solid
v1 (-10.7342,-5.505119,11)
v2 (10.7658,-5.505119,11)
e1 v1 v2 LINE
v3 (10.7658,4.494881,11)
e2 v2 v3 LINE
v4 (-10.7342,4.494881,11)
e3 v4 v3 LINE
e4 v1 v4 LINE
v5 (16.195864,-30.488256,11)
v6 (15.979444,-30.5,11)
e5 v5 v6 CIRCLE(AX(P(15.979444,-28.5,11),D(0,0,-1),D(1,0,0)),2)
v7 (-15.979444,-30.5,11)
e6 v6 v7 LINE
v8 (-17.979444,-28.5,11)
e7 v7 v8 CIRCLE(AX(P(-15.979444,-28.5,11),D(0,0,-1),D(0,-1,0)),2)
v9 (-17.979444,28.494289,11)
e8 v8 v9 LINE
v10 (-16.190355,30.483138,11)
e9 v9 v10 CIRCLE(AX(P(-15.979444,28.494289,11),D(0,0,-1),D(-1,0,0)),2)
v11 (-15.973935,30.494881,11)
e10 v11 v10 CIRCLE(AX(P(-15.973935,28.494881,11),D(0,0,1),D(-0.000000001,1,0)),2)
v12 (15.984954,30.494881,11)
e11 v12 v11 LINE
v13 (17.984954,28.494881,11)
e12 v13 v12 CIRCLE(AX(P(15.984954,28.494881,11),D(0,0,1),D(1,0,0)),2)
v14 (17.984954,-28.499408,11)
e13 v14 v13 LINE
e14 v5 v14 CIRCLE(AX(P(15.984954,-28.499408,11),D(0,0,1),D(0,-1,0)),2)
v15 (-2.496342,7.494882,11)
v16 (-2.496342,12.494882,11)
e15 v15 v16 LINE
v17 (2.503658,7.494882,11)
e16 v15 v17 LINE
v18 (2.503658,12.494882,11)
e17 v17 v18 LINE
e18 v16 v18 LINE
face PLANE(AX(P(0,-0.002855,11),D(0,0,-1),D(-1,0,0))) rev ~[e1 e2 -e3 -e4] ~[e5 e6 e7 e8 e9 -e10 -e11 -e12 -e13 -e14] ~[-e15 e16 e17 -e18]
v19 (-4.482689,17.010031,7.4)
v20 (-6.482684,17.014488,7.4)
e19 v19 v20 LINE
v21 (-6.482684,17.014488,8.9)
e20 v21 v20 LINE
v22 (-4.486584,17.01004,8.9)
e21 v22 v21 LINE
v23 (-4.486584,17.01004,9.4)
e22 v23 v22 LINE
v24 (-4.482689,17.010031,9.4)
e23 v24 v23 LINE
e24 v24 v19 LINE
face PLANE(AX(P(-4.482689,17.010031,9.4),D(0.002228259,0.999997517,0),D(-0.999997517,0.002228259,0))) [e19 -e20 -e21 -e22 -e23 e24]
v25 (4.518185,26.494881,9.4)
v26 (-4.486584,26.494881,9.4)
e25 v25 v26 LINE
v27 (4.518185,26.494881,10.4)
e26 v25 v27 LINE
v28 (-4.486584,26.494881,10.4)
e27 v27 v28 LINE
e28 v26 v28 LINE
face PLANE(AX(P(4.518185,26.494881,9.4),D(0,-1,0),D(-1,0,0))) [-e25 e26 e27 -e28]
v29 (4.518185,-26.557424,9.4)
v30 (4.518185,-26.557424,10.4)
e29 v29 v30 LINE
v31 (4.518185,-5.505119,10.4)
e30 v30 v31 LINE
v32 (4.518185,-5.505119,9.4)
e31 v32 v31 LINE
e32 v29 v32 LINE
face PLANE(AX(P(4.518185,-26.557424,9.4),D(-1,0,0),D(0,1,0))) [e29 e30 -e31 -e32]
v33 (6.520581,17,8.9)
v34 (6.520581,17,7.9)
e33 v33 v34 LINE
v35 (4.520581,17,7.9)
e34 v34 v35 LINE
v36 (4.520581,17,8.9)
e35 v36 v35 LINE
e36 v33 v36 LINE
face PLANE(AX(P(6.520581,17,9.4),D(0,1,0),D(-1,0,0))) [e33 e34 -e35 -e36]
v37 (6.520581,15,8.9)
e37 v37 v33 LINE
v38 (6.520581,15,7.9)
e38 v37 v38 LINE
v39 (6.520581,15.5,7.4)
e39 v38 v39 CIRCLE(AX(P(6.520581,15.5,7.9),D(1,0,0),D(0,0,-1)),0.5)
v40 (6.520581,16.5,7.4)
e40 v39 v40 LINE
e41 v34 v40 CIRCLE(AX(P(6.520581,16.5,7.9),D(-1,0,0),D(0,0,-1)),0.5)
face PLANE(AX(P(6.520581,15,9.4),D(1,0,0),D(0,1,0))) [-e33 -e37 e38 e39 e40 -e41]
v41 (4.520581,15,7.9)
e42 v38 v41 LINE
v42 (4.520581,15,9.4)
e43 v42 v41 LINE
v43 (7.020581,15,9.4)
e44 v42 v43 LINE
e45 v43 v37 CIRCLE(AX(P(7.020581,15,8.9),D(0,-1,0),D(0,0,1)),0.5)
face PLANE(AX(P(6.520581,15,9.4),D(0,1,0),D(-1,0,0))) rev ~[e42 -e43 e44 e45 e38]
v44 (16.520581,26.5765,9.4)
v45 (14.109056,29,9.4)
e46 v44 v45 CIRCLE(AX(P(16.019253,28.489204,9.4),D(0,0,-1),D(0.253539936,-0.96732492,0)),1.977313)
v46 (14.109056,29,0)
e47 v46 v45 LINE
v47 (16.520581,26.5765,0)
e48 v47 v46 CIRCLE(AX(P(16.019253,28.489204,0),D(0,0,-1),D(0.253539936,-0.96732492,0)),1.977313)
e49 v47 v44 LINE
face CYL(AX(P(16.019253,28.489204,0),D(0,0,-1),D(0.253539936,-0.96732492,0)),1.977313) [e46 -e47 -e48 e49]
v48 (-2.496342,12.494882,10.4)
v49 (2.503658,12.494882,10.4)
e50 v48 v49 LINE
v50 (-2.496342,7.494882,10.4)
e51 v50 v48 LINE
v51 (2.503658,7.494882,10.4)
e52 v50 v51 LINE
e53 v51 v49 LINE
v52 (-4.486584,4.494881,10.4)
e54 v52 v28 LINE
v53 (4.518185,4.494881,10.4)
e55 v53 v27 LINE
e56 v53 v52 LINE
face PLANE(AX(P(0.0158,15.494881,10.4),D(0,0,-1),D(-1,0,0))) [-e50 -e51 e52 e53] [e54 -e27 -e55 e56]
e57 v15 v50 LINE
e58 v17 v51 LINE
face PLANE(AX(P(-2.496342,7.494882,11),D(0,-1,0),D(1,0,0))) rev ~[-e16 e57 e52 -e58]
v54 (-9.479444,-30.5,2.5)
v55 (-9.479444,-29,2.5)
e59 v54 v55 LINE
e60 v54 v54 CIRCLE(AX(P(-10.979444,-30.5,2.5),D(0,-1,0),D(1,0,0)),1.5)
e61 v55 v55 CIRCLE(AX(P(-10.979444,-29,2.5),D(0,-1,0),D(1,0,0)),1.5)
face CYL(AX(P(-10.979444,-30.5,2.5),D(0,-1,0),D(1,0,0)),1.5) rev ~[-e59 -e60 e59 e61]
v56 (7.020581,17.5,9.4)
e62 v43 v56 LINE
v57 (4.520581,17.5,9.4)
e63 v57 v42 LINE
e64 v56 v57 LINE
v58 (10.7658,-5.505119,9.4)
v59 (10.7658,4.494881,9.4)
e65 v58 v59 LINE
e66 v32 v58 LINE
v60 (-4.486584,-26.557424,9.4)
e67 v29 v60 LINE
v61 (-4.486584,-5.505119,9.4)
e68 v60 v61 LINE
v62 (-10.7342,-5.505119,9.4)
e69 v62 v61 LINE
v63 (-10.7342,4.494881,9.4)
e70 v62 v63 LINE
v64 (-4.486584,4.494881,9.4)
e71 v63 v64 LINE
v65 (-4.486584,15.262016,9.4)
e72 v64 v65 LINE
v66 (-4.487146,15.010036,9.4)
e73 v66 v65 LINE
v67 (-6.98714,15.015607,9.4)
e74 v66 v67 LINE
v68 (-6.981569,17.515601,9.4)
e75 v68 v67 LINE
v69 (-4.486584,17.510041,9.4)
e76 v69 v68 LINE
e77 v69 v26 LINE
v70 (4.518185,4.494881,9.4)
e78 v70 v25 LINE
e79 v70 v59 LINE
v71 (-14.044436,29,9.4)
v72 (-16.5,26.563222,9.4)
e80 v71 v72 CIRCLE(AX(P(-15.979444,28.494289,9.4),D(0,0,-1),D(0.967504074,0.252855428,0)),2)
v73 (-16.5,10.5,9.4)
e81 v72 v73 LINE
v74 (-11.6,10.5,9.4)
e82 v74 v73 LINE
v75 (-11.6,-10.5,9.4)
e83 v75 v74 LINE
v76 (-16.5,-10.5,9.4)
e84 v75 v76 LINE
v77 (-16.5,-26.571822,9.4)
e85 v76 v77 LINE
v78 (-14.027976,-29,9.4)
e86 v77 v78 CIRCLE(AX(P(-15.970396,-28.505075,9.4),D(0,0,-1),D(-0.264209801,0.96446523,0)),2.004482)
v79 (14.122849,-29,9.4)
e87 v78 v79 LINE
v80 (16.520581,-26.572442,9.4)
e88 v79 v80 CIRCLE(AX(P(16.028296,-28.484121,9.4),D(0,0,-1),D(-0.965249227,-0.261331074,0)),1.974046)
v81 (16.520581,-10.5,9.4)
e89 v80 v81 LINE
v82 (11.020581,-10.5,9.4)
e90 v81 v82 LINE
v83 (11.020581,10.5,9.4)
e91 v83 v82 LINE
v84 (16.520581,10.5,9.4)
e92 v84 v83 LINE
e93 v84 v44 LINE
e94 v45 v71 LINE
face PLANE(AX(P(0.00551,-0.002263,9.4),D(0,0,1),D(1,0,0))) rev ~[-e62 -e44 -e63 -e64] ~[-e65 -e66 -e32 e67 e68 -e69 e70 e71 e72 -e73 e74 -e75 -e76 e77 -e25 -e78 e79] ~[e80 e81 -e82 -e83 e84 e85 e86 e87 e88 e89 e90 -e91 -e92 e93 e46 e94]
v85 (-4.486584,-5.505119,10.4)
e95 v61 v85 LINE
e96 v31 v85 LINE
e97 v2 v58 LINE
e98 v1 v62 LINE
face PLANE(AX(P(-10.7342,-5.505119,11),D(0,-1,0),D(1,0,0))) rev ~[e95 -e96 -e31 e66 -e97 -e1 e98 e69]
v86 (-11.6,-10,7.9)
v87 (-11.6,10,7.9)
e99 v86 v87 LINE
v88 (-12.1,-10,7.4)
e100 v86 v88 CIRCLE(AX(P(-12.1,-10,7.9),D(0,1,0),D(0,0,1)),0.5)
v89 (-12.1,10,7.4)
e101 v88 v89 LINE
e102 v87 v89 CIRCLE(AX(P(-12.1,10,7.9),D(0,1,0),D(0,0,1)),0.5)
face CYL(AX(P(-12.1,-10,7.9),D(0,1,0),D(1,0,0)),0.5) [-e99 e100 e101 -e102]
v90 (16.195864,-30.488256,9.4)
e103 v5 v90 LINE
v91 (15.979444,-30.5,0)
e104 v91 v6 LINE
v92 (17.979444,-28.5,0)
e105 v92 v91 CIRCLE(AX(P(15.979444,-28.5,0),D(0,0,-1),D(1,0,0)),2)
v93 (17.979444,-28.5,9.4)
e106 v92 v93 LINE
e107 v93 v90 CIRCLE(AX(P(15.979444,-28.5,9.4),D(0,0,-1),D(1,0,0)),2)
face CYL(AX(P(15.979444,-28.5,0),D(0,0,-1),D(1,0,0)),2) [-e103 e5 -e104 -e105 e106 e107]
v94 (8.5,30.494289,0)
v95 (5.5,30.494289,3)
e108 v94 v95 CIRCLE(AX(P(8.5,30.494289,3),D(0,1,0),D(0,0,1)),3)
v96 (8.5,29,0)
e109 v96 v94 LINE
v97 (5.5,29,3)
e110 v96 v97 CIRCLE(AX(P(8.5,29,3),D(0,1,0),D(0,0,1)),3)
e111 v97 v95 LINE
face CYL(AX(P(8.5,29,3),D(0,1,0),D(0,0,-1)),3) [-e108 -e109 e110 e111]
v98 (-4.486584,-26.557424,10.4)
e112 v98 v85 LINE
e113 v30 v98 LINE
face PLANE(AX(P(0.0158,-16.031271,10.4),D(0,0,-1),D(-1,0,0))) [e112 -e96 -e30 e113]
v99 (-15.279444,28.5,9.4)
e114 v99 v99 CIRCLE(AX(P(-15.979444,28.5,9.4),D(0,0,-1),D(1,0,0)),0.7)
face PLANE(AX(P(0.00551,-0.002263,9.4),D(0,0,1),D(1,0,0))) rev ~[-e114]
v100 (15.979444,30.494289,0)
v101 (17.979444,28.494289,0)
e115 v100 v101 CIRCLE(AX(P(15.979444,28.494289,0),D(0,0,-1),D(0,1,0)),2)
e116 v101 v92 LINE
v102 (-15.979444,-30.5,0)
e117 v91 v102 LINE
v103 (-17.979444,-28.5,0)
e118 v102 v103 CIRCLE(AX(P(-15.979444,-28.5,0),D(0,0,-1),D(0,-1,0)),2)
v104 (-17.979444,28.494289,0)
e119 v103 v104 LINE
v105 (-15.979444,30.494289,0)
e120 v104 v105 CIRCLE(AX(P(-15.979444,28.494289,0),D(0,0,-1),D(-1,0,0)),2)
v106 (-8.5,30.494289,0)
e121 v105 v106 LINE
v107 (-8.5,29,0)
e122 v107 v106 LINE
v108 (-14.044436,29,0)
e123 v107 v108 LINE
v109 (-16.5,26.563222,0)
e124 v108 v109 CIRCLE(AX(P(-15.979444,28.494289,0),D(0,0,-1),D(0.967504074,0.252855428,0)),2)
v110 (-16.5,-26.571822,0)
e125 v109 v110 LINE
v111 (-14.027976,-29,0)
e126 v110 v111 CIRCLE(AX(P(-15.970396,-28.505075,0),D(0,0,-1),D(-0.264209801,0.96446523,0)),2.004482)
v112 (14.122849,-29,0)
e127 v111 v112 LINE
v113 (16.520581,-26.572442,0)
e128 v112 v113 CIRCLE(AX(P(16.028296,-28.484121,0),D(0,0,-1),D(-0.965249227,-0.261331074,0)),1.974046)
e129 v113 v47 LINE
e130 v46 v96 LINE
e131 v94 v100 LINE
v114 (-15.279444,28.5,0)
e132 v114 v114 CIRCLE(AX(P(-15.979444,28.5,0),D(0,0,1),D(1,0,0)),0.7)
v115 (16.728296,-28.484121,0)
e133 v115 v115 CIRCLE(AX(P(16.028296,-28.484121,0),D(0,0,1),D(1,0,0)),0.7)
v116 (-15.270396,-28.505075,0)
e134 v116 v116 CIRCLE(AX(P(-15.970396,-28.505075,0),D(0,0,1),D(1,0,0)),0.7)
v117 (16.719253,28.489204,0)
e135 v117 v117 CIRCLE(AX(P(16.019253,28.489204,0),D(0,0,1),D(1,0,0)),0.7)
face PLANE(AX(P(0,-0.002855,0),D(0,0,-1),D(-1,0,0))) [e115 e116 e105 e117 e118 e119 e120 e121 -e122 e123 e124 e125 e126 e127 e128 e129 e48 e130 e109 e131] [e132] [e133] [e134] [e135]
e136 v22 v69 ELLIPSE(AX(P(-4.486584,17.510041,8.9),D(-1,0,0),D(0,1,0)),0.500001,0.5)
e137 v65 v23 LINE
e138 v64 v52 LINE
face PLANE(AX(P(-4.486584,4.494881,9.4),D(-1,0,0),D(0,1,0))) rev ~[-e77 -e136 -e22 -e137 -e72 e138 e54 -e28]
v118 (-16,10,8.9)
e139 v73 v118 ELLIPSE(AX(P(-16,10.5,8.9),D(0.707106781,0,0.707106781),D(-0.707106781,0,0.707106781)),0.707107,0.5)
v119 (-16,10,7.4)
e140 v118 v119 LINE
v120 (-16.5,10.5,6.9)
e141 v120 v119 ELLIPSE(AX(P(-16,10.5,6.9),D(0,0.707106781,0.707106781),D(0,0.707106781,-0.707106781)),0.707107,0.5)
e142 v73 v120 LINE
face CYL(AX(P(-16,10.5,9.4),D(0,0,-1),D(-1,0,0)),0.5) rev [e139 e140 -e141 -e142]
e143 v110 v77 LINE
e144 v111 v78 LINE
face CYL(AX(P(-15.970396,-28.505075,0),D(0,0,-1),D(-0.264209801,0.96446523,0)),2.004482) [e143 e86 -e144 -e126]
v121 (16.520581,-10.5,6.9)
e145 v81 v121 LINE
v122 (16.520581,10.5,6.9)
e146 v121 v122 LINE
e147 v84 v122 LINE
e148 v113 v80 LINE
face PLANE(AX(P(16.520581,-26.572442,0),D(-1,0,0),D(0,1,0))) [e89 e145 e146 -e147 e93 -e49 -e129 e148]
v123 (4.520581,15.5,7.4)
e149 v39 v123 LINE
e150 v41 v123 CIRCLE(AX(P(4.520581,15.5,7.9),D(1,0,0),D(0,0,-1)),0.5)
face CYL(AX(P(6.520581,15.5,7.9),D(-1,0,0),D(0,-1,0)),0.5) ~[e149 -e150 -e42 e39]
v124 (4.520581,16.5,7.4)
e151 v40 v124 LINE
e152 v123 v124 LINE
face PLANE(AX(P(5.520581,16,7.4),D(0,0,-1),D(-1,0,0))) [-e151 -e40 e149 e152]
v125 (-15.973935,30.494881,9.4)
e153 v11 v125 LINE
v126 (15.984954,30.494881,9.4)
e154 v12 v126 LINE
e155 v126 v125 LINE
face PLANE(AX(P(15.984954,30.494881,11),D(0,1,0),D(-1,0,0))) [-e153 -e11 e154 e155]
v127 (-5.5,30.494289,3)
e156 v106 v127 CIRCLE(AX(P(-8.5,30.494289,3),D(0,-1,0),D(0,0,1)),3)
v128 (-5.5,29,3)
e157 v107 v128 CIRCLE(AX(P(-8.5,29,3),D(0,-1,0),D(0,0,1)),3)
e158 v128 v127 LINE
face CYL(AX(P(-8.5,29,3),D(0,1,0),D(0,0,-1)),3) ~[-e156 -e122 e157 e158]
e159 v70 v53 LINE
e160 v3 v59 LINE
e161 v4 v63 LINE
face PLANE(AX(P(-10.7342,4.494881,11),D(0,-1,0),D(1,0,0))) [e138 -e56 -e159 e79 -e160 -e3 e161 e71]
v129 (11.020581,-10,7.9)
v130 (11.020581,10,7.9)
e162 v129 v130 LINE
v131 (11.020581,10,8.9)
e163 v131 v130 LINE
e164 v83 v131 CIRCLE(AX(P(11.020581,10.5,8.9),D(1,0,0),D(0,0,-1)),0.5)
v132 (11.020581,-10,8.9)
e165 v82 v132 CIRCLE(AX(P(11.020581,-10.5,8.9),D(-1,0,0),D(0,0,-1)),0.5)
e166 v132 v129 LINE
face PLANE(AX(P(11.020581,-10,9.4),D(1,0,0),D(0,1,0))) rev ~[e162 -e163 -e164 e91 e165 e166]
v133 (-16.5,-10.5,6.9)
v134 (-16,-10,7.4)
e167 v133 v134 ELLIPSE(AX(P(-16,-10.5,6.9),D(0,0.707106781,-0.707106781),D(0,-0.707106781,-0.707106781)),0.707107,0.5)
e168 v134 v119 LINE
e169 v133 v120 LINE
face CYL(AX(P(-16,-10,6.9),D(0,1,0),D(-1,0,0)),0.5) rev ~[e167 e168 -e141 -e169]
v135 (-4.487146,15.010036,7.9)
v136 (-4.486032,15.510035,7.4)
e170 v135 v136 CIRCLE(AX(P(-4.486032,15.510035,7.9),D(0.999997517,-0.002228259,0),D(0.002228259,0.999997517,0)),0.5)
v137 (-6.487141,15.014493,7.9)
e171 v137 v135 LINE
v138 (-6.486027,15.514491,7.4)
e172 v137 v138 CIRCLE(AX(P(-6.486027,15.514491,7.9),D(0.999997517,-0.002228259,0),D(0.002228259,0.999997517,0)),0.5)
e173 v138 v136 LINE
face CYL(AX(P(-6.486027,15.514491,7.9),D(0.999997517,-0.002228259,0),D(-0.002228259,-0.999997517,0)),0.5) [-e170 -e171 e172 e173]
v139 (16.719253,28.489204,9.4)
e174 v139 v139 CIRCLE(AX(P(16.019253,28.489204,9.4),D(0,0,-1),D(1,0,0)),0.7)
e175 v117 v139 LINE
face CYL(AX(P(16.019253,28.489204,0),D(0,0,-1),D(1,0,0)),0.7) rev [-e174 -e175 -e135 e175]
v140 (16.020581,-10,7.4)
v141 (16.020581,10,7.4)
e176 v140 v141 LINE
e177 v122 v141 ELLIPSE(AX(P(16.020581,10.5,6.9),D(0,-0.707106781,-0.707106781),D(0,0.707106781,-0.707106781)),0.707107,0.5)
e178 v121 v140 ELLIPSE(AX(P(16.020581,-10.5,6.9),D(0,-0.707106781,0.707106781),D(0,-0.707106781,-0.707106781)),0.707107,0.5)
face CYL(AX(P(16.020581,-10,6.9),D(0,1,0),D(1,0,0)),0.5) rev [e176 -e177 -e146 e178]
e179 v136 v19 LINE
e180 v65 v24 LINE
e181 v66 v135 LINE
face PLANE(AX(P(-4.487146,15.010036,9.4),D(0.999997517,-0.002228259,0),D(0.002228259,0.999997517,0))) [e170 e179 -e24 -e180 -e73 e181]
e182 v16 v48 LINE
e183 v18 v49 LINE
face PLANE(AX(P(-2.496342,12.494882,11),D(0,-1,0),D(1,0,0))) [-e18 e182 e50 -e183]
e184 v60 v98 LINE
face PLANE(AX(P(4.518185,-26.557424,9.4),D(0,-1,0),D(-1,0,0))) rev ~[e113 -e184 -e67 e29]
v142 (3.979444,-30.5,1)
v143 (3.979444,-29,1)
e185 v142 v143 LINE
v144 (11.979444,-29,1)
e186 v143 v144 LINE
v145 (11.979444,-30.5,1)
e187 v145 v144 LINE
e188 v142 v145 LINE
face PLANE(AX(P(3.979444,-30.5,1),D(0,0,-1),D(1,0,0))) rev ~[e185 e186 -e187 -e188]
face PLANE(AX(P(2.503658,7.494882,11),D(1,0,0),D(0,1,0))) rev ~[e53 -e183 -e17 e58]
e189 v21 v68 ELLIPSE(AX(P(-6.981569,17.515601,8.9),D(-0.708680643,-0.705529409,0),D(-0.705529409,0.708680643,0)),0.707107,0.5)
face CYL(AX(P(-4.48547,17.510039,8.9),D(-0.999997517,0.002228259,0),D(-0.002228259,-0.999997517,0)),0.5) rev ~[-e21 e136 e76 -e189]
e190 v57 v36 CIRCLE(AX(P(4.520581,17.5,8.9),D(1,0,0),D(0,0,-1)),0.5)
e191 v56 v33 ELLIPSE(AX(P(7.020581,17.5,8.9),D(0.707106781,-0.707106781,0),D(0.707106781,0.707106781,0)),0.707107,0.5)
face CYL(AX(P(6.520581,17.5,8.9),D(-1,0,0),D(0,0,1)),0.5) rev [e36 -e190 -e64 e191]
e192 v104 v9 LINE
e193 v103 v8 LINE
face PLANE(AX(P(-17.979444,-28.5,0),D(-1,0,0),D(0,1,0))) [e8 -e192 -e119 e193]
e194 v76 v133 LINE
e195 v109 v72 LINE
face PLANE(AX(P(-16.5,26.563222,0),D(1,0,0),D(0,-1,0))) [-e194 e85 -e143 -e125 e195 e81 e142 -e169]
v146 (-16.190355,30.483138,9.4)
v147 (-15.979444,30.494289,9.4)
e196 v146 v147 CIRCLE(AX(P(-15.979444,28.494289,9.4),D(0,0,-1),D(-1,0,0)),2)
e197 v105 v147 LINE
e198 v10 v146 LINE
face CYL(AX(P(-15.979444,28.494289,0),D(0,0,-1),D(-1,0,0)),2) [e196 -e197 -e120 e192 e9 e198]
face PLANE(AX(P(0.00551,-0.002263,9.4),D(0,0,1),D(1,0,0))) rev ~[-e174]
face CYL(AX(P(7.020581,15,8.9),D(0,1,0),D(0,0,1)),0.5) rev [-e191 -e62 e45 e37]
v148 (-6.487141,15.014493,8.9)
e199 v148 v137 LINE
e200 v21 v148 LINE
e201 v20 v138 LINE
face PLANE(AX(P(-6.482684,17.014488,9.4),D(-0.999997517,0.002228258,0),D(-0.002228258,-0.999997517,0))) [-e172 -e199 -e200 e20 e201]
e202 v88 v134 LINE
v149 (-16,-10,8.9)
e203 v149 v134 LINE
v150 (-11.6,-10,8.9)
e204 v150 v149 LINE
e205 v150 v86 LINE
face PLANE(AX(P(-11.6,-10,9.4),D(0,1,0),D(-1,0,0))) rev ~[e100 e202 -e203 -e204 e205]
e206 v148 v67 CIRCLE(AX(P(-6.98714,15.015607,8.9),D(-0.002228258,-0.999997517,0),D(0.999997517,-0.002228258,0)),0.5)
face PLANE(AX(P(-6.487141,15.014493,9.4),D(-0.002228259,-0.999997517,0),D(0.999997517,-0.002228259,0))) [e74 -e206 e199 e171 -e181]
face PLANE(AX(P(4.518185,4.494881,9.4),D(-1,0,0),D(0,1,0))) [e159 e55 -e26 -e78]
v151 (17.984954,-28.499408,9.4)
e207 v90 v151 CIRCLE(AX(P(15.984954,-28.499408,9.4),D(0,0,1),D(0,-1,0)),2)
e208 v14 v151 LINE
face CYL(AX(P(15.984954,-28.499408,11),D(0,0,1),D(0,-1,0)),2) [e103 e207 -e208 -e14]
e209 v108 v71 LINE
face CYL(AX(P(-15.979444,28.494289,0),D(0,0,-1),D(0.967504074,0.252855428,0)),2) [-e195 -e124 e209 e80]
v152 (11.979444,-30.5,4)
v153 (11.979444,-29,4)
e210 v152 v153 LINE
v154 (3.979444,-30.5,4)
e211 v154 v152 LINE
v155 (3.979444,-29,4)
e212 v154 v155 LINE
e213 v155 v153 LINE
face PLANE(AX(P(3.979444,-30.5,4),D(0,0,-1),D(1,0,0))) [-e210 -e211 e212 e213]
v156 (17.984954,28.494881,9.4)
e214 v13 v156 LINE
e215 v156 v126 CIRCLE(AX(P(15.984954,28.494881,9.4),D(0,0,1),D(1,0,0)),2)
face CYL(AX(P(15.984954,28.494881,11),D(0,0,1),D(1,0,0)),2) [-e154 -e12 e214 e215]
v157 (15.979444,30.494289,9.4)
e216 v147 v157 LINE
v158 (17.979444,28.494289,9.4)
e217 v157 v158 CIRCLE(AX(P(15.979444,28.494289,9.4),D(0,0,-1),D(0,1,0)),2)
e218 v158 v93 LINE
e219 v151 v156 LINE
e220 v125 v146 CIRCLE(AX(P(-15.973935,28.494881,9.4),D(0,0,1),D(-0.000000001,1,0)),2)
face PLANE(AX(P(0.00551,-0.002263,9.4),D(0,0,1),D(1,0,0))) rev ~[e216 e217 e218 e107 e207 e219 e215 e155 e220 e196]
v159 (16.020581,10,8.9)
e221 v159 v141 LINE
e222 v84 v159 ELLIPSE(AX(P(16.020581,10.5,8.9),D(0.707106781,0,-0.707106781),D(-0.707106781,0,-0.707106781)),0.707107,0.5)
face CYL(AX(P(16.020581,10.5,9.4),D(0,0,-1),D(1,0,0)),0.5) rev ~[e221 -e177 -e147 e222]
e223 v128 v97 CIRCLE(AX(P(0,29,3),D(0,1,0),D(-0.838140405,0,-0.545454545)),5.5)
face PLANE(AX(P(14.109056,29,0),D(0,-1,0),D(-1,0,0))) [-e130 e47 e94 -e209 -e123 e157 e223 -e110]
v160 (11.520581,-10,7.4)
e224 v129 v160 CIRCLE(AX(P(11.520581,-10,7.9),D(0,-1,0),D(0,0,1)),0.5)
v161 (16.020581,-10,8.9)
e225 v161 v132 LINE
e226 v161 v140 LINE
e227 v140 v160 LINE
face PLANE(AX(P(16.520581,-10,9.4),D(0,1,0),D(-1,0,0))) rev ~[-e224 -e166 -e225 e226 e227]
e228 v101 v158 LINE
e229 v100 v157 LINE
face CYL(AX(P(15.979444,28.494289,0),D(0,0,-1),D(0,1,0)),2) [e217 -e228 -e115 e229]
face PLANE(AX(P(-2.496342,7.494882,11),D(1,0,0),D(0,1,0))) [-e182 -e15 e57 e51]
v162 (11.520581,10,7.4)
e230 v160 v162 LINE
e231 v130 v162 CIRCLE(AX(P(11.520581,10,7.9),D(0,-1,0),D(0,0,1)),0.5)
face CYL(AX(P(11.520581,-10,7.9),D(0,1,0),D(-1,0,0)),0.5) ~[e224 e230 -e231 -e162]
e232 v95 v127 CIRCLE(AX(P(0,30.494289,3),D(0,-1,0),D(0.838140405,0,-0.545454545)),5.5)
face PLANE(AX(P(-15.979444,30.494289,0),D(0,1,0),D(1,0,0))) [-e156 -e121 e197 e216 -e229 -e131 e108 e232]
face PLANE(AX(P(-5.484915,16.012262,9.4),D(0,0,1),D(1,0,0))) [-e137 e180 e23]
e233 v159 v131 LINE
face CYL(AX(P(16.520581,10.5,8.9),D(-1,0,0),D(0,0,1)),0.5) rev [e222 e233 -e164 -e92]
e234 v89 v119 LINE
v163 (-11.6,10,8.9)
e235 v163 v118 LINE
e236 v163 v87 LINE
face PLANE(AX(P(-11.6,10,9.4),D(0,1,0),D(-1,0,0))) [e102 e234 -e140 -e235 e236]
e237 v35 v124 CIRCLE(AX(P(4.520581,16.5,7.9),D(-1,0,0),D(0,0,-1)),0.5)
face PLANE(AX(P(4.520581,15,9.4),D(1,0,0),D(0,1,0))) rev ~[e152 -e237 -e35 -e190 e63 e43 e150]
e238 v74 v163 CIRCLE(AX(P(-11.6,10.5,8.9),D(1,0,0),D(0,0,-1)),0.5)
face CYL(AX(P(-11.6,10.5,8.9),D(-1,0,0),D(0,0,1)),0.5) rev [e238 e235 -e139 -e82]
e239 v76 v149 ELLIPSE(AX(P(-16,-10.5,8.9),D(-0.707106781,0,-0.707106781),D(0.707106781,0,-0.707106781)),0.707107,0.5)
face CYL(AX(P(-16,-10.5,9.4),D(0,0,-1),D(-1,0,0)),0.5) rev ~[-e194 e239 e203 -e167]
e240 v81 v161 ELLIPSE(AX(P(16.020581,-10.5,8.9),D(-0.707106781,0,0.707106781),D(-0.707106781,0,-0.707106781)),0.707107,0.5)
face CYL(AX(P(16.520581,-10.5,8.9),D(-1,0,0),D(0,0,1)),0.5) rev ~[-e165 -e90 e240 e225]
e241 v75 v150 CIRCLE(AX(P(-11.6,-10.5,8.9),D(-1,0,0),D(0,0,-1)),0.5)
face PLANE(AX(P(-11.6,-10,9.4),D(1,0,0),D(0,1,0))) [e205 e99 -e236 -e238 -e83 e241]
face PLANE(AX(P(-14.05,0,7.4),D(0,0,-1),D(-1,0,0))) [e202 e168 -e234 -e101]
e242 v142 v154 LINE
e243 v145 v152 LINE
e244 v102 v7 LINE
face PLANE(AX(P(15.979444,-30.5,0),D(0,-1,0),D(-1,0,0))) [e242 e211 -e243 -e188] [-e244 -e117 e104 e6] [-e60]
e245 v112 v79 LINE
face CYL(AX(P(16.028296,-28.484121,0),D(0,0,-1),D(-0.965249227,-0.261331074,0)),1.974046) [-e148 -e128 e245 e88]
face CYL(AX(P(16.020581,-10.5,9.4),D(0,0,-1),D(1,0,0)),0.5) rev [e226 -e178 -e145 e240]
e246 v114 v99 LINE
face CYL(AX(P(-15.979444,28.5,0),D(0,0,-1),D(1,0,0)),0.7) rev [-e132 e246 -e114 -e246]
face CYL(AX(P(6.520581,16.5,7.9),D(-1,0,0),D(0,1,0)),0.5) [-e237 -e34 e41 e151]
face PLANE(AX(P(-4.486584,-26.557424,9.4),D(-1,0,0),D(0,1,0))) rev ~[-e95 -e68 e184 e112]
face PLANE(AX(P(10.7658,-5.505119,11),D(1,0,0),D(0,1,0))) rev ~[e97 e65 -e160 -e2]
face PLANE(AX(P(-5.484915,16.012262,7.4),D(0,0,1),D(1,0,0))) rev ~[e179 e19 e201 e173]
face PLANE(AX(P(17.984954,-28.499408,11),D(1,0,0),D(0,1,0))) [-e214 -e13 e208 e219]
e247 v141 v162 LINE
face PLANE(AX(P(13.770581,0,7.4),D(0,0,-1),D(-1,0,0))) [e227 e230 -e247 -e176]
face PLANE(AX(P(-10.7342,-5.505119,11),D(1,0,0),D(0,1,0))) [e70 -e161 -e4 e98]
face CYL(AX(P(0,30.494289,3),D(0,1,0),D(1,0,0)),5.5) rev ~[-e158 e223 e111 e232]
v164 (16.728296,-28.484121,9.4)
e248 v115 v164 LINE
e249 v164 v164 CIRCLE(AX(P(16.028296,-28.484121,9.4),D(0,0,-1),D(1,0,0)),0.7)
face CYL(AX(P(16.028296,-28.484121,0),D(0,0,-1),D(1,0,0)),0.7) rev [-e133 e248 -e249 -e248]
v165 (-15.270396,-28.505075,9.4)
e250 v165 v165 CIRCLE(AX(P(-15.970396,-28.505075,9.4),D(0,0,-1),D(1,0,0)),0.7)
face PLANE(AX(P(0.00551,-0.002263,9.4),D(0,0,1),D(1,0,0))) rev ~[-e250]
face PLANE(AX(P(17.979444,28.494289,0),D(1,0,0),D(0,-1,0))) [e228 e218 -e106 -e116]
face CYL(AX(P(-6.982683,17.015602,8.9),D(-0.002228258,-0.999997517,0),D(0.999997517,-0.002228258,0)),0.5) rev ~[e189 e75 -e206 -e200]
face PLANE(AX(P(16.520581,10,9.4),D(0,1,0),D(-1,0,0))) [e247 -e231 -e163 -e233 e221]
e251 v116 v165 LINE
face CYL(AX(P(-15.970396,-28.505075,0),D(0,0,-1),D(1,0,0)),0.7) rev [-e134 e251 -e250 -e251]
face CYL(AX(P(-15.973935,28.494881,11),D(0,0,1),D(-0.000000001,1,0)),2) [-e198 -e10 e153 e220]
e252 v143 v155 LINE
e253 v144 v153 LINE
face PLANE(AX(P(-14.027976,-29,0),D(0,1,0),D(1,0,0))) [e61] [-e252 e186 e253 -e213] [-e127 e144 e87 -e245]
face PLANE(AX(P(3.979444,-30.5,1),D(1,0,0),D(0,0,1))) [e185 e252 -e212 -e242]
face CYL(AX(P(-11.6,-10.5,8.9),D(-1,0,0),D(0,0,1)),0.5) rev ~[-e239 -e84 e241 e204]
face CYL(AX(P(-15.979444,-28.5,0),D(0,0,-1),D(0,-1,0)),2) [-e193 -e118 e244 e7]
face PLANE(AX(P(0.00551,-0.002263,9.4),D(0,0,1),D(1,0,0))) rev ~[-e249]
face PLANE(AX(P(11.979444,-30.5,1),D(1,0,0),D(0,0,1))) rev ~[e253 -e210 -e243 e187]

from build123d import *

# Parameters (mm, degrees)
SKETCH_1_R          = 0.7
EXTRUDE_1_DEPTH     = 11
SKETCH_3_W          = 21.5
SKETCH_3_H          = 10
EXTRUDE_2_DEPTH     = 1.6
SKETCH_4_W          = 5
SKETCH_4_H          = 5
CUT_EXTRUDE_1_DEPTH = 1
CUT_EXTRUDE_2_REACH = 62.995
SKETCH_5_R          = 1.5
SKETCH_5_W          = 8
SKETCH_5_H          = 3
SKETCH_6_W          = 9.004768993
SKETCH_6_H          = 22
SKETCH_6_H_2        = 21.052305639
CUT_EXTRUDE_3_DEPTH = 1
SKETCH_7_W          = 5.5
SKETCH_7_H          = 20
SKETCH_7_W_2        = 4.9
SKETCH_7_W_3        = 2
SKETCH_7_H_2        = 2
EXTRUDE_4_DEPTH     = 2
FILLET_2_R          = 0.5
CUT_EXTRUDE_4_REACH = 62.994
SKETCH_9_R          = 5.5
FILLET_3_R          = 3


with BuildPart() as part:
    # Эскиз1 → Бобышка-Вытянуть1 (new body)
    with BuildSketch(Plane.XY):
        with BuildLine():
            Line((-15.979444254, 30.494289473), (15.979444254, 30.494289473))
            ThreePointArc((15.979444254, 30.494289473), (17.393657817, 29.908503035), (17.979444254, 28.494289473))
            Line((17.979444254, 28.494289473), (17.979444254, -28.500000343))
            ThreePointArc((17.979444254, -28.500000343), (17.393657817, -29.914213905), (15.979444254, -30.500000343))
            Line((15.979444254, -30.500000343), (-15.979444254, -30.500000343))
            ThreePointArc((-15.979444254, -30.500000343), (-17.393657817, -29.914213905), (-17.979444254, -28.500000343))
            Line((-17.979444254, -28.500000343), (-17.979444254, 28.494289473))
            ThreePointArc((-17.979444254, 28.494289473), (-17.393657817, 29.908503035), (-15.979444254, 30.494289473))
        make_face()
        with Locations((-15.979444254, 28.500000343)):
            Circle(SKETCH_1_R, mode=Mode.SUBTRACT)
        with Locations((16.01925313, 28.489204167)):
            Circle(SKETCH_1_R, mode=Mode.SUBTRACT)
        with Locations((16.028296267, -28.484120661)):
            Circle(SKETCH_1_R, mode=Mode.SUBTRACT)
        with Locations((-15.970396078, -28.505074873)):
            Circle(SKETCH_1_R, mode=Mode.SUBTRACT)
        with BuildLine():
            Line((-14.027975552, -29.00000033), (14.122849497, -29.00000033))
            ThreePointArc((14.122849497, -29.00000033), (14.623833191, -27.096913866), (16.520580958, -26.572442078))
            Line((16.520580958, -26.572442078), (16.520580958, 26.576499963))
            ThreePointArc((16.520580958, 26.576499963), (14.617623044, 27.094499874), (14.109055694, 29.00000033))
            Line((14.109055694, 29.00000033), (-14.044436107, 29.00000033))
            ThreePointArc((-14.044436107, 29.00000033), (-14.570671317, 27.074656136), (-16.499999911, 26.563221942))
            Line((-16.499999911, 26.563221942), (-16.499999911, -26.57182153))
            ThreePointArc((-16.499999911, -26.57182153), (-14.565751702, -27.075066872), (-14.027975552, -29.00000033))
        make_face(mode=Mode.SUBTRACT)
    extrude(amount=EXTRUDE_1_DEPTH)

    # Эскиз3 → Бобышка-Вытянуть2 (add)
    with BuildSketch(Plane.XY.offset(11)):
        with BuildLine():
            Line((-17.973934657, 28.494881466), (-17.973934657, -28.49940835))
            ThreePointArc((-17.973934657, -28.49940835), (-17.388148219, -29.913621912), (-15.973934657, -30.49940835))
            Line((-15.973934657, -30.49940835), (15.984953852, -30.49940835))
            ThreePointArc((15.984953852, -30.49940835), (17.399167415, -29.913621912), (17.984953852, -28.49940835))
            Line((17.984953852, -28.49940835), (17.984953852, 28.494881466))
            ThreePointArc((17.984953852, 28.494881466), (17.399167415, 29.909095028), (15.984953852, 30.494881466))
            Line((15.984953852, 30.494881466), (-15.973934657, 30.494881466))
            ThreePointArc((-15.973934657, 30.494881466), (-17.388148219, 29.909095028), (-17.973934657, 28.494881466))
        make_face()
        with Locations((0.015800122, -0.505118534)):
            Rectangle(SKETCH_3_W, SKETCH_3_H, mode=Mode.SUBTRACT)
    extrude(amount=-EXTRUDE_2_DEPTH)

    # Эскиз4 → Вырез-Вытянуть1 (cut)
    with BuildSketch(Plane.XY.offset(11)):
        with Locations((0.003657856, 9.994881549)):
            Rectangle(SKETCH_4_W, SKETCH_4_H)
    extrude(amount=-CUT_EXTRUDE_1_DEPTH, mode=Mode.SUBTRACT)

    # Эскиз5 → Вырез-Вытянуть2 (cut, up to next)
    with BuildSketch(Plane.XZ.offset(30.500000343), mode=Mode.PRIVATE) as cut_extrude_2_sk1:
        with Locations((-10.979444254, 2.5)):
            Circle(SKETCH_5_R)
    cut_extrude_2_tool1 = extrude(cut_extrude_2_sk1.sketch, amount=-CUT_EXTRUDE_2_REACH, mode=Mode.PRIVATE) & part.part
    add(cut_extrude_2_tool1.solids().sort_by_distance((-10.979444, -30.5, 2.5))[0], mode=Mode.SUBTRACT)
    # Эскиз5 → Вырез-Вытянуть2 (cut, up to next)
    with BuildSketch(Plane.XZ.offset(30.500000343), mode=Mode.PRIVATE) as cut_extrude_2_sk2:
        with Locations((7.979444254, 2.5)):
            Rectangle(SKETCH_5_W, SKETCH_5_H)
    cut_extrude_2_tool2 = extrude(cut_extrude_2_sk2.sketch, amount=-CUT_EXTRUDE_2_REACH, mode=Mode.PRIVATE) & part.part
    add(cut_extrude_2_tool2.solids().sort_by_distance((7.979444, -30.5, 2.5))[0], mode=Mode.SUBTRACT)

    # Эскиз6 → Вырез-Вытянуть3 (cut)
    with BuildSketch(Plane(origin=(0, 0, 9.4), x_dir=(-1, 0, 0), z_dir=(0, 0, -1))):
        with Locations((-0.015800121, 15.494881466)):
            Rectangle(SKETCH_6_W, SKETCH_6_H)
        with Locations((-0.015800121, -16.031271353)):
            Rectangle(SKETCH_6_W, SKETCH_6_H_2)
    extrude(amount=-CUT_EXTRUDE_3_DEPTH, mode=Mode.SUBTRACT)

    # Эскиз7 → Бобышка-Вытянуть4 (add)
    with BuildSketch(Plane(origin=(0, 0, 9.4), x_dir=(-1, 0, 0), z_dir=(0, 0, -1))):
        with Locations((-13.770580958, 3.3e-07)):
            Rectangle(SKETCH_7_W, SKETCH_7_H)
        with Locations((14.049999911, 3.3e-07)):
            Rectangle(SKETCH_7_W_2, SKETCH_7_H)
        with Locations((-5.520580958, 16.00000033)):
            Rectangle(SKETCH_7_W_3, SKETCH_7_H_2)
        Polygon((6.48268437, 17.014487668), (6.487140887, 15.014492633), (4.487145853, 15.010036116), (4.482689335, 17.01003115), align=None)
    extrude(amount=EXTRUDE_4_DEPTH)

    # Скругление2
    fillet_2_edges = [part.edges().sort_by_distance(p)[0] for p in [
        (16.520580958, 10.00000033, 8.4),
        (13.770580958, -9.99999967, 9.4),
        (16.520580958, -9.99999967, 8.4),
        (13.770580958, 10.00000033, 9.4),
        (16.520580958, 3.3e-07, 7.4),
        (11.020580958, 3.3e-07, 7.4),
        (-16.499999911, -9.99999967, 8.4),
        (-14.049999911, 10.00000033, 9.4),
        (-16.499999911, 10.00000033, 8.4),
        (-14.049999911, -9.99999967, 9.4),
        (-16.499999911, 3.3e-07, 7.4),
        (-11.599999911, 3.3e-07, 7.4),
        (6.520580958, 16.00000033, 9.4),
        (5.520580958, 17.00000033, 9.4),
        (5.520580958, 15.00000033, 7.4),
        (5.520580958, 17.00000033, 7.4),
        (-5.484634372, 17.012263749, 9.4),
        (-6.484912629, 16.014490151, 9.4),
        (-5.48714337, 15.012264374, 7.4),
    ]]
    fillet(fillet_2_edges, radius=FILLET_2_R)

    # Эскиз9 → Вырез-Вытянуть4 (cut, up to next)
    with BuildSketch(Plane(origin=(0, 30.494289473, 0), x_dir=(1, 0, 0), z_dir=(0, 1, 0)), mode=Mode.PRIVATE) as cut_extrude_4_sk1:
        with Locations((0, -3)):
            Circle(SKETCH_9_R)
    cut_extrude_4_tool1 = extrude(cut_extrude_4_sk1.sketch, amount=-CUT_EXTRUDE_4_REACH, mode=Mode.PRIVATE) & part.part
    add(cut_extrude_4_tool1.solids().sort_by_distance((0, 30.494289, 3))[0], mode=Mode.SUBTRACT)

    # Скругление3
    fillet_3_edges = [part.edges().sort_by_distance(p)[0] for p in [
        (4.609772229, 29.747144901, 0),
        (-4.609772229, 29.747144901, 0),
    ]]
    fillet(fillet_3_edges, radius=FILLET_3_R)


solid = part.part
